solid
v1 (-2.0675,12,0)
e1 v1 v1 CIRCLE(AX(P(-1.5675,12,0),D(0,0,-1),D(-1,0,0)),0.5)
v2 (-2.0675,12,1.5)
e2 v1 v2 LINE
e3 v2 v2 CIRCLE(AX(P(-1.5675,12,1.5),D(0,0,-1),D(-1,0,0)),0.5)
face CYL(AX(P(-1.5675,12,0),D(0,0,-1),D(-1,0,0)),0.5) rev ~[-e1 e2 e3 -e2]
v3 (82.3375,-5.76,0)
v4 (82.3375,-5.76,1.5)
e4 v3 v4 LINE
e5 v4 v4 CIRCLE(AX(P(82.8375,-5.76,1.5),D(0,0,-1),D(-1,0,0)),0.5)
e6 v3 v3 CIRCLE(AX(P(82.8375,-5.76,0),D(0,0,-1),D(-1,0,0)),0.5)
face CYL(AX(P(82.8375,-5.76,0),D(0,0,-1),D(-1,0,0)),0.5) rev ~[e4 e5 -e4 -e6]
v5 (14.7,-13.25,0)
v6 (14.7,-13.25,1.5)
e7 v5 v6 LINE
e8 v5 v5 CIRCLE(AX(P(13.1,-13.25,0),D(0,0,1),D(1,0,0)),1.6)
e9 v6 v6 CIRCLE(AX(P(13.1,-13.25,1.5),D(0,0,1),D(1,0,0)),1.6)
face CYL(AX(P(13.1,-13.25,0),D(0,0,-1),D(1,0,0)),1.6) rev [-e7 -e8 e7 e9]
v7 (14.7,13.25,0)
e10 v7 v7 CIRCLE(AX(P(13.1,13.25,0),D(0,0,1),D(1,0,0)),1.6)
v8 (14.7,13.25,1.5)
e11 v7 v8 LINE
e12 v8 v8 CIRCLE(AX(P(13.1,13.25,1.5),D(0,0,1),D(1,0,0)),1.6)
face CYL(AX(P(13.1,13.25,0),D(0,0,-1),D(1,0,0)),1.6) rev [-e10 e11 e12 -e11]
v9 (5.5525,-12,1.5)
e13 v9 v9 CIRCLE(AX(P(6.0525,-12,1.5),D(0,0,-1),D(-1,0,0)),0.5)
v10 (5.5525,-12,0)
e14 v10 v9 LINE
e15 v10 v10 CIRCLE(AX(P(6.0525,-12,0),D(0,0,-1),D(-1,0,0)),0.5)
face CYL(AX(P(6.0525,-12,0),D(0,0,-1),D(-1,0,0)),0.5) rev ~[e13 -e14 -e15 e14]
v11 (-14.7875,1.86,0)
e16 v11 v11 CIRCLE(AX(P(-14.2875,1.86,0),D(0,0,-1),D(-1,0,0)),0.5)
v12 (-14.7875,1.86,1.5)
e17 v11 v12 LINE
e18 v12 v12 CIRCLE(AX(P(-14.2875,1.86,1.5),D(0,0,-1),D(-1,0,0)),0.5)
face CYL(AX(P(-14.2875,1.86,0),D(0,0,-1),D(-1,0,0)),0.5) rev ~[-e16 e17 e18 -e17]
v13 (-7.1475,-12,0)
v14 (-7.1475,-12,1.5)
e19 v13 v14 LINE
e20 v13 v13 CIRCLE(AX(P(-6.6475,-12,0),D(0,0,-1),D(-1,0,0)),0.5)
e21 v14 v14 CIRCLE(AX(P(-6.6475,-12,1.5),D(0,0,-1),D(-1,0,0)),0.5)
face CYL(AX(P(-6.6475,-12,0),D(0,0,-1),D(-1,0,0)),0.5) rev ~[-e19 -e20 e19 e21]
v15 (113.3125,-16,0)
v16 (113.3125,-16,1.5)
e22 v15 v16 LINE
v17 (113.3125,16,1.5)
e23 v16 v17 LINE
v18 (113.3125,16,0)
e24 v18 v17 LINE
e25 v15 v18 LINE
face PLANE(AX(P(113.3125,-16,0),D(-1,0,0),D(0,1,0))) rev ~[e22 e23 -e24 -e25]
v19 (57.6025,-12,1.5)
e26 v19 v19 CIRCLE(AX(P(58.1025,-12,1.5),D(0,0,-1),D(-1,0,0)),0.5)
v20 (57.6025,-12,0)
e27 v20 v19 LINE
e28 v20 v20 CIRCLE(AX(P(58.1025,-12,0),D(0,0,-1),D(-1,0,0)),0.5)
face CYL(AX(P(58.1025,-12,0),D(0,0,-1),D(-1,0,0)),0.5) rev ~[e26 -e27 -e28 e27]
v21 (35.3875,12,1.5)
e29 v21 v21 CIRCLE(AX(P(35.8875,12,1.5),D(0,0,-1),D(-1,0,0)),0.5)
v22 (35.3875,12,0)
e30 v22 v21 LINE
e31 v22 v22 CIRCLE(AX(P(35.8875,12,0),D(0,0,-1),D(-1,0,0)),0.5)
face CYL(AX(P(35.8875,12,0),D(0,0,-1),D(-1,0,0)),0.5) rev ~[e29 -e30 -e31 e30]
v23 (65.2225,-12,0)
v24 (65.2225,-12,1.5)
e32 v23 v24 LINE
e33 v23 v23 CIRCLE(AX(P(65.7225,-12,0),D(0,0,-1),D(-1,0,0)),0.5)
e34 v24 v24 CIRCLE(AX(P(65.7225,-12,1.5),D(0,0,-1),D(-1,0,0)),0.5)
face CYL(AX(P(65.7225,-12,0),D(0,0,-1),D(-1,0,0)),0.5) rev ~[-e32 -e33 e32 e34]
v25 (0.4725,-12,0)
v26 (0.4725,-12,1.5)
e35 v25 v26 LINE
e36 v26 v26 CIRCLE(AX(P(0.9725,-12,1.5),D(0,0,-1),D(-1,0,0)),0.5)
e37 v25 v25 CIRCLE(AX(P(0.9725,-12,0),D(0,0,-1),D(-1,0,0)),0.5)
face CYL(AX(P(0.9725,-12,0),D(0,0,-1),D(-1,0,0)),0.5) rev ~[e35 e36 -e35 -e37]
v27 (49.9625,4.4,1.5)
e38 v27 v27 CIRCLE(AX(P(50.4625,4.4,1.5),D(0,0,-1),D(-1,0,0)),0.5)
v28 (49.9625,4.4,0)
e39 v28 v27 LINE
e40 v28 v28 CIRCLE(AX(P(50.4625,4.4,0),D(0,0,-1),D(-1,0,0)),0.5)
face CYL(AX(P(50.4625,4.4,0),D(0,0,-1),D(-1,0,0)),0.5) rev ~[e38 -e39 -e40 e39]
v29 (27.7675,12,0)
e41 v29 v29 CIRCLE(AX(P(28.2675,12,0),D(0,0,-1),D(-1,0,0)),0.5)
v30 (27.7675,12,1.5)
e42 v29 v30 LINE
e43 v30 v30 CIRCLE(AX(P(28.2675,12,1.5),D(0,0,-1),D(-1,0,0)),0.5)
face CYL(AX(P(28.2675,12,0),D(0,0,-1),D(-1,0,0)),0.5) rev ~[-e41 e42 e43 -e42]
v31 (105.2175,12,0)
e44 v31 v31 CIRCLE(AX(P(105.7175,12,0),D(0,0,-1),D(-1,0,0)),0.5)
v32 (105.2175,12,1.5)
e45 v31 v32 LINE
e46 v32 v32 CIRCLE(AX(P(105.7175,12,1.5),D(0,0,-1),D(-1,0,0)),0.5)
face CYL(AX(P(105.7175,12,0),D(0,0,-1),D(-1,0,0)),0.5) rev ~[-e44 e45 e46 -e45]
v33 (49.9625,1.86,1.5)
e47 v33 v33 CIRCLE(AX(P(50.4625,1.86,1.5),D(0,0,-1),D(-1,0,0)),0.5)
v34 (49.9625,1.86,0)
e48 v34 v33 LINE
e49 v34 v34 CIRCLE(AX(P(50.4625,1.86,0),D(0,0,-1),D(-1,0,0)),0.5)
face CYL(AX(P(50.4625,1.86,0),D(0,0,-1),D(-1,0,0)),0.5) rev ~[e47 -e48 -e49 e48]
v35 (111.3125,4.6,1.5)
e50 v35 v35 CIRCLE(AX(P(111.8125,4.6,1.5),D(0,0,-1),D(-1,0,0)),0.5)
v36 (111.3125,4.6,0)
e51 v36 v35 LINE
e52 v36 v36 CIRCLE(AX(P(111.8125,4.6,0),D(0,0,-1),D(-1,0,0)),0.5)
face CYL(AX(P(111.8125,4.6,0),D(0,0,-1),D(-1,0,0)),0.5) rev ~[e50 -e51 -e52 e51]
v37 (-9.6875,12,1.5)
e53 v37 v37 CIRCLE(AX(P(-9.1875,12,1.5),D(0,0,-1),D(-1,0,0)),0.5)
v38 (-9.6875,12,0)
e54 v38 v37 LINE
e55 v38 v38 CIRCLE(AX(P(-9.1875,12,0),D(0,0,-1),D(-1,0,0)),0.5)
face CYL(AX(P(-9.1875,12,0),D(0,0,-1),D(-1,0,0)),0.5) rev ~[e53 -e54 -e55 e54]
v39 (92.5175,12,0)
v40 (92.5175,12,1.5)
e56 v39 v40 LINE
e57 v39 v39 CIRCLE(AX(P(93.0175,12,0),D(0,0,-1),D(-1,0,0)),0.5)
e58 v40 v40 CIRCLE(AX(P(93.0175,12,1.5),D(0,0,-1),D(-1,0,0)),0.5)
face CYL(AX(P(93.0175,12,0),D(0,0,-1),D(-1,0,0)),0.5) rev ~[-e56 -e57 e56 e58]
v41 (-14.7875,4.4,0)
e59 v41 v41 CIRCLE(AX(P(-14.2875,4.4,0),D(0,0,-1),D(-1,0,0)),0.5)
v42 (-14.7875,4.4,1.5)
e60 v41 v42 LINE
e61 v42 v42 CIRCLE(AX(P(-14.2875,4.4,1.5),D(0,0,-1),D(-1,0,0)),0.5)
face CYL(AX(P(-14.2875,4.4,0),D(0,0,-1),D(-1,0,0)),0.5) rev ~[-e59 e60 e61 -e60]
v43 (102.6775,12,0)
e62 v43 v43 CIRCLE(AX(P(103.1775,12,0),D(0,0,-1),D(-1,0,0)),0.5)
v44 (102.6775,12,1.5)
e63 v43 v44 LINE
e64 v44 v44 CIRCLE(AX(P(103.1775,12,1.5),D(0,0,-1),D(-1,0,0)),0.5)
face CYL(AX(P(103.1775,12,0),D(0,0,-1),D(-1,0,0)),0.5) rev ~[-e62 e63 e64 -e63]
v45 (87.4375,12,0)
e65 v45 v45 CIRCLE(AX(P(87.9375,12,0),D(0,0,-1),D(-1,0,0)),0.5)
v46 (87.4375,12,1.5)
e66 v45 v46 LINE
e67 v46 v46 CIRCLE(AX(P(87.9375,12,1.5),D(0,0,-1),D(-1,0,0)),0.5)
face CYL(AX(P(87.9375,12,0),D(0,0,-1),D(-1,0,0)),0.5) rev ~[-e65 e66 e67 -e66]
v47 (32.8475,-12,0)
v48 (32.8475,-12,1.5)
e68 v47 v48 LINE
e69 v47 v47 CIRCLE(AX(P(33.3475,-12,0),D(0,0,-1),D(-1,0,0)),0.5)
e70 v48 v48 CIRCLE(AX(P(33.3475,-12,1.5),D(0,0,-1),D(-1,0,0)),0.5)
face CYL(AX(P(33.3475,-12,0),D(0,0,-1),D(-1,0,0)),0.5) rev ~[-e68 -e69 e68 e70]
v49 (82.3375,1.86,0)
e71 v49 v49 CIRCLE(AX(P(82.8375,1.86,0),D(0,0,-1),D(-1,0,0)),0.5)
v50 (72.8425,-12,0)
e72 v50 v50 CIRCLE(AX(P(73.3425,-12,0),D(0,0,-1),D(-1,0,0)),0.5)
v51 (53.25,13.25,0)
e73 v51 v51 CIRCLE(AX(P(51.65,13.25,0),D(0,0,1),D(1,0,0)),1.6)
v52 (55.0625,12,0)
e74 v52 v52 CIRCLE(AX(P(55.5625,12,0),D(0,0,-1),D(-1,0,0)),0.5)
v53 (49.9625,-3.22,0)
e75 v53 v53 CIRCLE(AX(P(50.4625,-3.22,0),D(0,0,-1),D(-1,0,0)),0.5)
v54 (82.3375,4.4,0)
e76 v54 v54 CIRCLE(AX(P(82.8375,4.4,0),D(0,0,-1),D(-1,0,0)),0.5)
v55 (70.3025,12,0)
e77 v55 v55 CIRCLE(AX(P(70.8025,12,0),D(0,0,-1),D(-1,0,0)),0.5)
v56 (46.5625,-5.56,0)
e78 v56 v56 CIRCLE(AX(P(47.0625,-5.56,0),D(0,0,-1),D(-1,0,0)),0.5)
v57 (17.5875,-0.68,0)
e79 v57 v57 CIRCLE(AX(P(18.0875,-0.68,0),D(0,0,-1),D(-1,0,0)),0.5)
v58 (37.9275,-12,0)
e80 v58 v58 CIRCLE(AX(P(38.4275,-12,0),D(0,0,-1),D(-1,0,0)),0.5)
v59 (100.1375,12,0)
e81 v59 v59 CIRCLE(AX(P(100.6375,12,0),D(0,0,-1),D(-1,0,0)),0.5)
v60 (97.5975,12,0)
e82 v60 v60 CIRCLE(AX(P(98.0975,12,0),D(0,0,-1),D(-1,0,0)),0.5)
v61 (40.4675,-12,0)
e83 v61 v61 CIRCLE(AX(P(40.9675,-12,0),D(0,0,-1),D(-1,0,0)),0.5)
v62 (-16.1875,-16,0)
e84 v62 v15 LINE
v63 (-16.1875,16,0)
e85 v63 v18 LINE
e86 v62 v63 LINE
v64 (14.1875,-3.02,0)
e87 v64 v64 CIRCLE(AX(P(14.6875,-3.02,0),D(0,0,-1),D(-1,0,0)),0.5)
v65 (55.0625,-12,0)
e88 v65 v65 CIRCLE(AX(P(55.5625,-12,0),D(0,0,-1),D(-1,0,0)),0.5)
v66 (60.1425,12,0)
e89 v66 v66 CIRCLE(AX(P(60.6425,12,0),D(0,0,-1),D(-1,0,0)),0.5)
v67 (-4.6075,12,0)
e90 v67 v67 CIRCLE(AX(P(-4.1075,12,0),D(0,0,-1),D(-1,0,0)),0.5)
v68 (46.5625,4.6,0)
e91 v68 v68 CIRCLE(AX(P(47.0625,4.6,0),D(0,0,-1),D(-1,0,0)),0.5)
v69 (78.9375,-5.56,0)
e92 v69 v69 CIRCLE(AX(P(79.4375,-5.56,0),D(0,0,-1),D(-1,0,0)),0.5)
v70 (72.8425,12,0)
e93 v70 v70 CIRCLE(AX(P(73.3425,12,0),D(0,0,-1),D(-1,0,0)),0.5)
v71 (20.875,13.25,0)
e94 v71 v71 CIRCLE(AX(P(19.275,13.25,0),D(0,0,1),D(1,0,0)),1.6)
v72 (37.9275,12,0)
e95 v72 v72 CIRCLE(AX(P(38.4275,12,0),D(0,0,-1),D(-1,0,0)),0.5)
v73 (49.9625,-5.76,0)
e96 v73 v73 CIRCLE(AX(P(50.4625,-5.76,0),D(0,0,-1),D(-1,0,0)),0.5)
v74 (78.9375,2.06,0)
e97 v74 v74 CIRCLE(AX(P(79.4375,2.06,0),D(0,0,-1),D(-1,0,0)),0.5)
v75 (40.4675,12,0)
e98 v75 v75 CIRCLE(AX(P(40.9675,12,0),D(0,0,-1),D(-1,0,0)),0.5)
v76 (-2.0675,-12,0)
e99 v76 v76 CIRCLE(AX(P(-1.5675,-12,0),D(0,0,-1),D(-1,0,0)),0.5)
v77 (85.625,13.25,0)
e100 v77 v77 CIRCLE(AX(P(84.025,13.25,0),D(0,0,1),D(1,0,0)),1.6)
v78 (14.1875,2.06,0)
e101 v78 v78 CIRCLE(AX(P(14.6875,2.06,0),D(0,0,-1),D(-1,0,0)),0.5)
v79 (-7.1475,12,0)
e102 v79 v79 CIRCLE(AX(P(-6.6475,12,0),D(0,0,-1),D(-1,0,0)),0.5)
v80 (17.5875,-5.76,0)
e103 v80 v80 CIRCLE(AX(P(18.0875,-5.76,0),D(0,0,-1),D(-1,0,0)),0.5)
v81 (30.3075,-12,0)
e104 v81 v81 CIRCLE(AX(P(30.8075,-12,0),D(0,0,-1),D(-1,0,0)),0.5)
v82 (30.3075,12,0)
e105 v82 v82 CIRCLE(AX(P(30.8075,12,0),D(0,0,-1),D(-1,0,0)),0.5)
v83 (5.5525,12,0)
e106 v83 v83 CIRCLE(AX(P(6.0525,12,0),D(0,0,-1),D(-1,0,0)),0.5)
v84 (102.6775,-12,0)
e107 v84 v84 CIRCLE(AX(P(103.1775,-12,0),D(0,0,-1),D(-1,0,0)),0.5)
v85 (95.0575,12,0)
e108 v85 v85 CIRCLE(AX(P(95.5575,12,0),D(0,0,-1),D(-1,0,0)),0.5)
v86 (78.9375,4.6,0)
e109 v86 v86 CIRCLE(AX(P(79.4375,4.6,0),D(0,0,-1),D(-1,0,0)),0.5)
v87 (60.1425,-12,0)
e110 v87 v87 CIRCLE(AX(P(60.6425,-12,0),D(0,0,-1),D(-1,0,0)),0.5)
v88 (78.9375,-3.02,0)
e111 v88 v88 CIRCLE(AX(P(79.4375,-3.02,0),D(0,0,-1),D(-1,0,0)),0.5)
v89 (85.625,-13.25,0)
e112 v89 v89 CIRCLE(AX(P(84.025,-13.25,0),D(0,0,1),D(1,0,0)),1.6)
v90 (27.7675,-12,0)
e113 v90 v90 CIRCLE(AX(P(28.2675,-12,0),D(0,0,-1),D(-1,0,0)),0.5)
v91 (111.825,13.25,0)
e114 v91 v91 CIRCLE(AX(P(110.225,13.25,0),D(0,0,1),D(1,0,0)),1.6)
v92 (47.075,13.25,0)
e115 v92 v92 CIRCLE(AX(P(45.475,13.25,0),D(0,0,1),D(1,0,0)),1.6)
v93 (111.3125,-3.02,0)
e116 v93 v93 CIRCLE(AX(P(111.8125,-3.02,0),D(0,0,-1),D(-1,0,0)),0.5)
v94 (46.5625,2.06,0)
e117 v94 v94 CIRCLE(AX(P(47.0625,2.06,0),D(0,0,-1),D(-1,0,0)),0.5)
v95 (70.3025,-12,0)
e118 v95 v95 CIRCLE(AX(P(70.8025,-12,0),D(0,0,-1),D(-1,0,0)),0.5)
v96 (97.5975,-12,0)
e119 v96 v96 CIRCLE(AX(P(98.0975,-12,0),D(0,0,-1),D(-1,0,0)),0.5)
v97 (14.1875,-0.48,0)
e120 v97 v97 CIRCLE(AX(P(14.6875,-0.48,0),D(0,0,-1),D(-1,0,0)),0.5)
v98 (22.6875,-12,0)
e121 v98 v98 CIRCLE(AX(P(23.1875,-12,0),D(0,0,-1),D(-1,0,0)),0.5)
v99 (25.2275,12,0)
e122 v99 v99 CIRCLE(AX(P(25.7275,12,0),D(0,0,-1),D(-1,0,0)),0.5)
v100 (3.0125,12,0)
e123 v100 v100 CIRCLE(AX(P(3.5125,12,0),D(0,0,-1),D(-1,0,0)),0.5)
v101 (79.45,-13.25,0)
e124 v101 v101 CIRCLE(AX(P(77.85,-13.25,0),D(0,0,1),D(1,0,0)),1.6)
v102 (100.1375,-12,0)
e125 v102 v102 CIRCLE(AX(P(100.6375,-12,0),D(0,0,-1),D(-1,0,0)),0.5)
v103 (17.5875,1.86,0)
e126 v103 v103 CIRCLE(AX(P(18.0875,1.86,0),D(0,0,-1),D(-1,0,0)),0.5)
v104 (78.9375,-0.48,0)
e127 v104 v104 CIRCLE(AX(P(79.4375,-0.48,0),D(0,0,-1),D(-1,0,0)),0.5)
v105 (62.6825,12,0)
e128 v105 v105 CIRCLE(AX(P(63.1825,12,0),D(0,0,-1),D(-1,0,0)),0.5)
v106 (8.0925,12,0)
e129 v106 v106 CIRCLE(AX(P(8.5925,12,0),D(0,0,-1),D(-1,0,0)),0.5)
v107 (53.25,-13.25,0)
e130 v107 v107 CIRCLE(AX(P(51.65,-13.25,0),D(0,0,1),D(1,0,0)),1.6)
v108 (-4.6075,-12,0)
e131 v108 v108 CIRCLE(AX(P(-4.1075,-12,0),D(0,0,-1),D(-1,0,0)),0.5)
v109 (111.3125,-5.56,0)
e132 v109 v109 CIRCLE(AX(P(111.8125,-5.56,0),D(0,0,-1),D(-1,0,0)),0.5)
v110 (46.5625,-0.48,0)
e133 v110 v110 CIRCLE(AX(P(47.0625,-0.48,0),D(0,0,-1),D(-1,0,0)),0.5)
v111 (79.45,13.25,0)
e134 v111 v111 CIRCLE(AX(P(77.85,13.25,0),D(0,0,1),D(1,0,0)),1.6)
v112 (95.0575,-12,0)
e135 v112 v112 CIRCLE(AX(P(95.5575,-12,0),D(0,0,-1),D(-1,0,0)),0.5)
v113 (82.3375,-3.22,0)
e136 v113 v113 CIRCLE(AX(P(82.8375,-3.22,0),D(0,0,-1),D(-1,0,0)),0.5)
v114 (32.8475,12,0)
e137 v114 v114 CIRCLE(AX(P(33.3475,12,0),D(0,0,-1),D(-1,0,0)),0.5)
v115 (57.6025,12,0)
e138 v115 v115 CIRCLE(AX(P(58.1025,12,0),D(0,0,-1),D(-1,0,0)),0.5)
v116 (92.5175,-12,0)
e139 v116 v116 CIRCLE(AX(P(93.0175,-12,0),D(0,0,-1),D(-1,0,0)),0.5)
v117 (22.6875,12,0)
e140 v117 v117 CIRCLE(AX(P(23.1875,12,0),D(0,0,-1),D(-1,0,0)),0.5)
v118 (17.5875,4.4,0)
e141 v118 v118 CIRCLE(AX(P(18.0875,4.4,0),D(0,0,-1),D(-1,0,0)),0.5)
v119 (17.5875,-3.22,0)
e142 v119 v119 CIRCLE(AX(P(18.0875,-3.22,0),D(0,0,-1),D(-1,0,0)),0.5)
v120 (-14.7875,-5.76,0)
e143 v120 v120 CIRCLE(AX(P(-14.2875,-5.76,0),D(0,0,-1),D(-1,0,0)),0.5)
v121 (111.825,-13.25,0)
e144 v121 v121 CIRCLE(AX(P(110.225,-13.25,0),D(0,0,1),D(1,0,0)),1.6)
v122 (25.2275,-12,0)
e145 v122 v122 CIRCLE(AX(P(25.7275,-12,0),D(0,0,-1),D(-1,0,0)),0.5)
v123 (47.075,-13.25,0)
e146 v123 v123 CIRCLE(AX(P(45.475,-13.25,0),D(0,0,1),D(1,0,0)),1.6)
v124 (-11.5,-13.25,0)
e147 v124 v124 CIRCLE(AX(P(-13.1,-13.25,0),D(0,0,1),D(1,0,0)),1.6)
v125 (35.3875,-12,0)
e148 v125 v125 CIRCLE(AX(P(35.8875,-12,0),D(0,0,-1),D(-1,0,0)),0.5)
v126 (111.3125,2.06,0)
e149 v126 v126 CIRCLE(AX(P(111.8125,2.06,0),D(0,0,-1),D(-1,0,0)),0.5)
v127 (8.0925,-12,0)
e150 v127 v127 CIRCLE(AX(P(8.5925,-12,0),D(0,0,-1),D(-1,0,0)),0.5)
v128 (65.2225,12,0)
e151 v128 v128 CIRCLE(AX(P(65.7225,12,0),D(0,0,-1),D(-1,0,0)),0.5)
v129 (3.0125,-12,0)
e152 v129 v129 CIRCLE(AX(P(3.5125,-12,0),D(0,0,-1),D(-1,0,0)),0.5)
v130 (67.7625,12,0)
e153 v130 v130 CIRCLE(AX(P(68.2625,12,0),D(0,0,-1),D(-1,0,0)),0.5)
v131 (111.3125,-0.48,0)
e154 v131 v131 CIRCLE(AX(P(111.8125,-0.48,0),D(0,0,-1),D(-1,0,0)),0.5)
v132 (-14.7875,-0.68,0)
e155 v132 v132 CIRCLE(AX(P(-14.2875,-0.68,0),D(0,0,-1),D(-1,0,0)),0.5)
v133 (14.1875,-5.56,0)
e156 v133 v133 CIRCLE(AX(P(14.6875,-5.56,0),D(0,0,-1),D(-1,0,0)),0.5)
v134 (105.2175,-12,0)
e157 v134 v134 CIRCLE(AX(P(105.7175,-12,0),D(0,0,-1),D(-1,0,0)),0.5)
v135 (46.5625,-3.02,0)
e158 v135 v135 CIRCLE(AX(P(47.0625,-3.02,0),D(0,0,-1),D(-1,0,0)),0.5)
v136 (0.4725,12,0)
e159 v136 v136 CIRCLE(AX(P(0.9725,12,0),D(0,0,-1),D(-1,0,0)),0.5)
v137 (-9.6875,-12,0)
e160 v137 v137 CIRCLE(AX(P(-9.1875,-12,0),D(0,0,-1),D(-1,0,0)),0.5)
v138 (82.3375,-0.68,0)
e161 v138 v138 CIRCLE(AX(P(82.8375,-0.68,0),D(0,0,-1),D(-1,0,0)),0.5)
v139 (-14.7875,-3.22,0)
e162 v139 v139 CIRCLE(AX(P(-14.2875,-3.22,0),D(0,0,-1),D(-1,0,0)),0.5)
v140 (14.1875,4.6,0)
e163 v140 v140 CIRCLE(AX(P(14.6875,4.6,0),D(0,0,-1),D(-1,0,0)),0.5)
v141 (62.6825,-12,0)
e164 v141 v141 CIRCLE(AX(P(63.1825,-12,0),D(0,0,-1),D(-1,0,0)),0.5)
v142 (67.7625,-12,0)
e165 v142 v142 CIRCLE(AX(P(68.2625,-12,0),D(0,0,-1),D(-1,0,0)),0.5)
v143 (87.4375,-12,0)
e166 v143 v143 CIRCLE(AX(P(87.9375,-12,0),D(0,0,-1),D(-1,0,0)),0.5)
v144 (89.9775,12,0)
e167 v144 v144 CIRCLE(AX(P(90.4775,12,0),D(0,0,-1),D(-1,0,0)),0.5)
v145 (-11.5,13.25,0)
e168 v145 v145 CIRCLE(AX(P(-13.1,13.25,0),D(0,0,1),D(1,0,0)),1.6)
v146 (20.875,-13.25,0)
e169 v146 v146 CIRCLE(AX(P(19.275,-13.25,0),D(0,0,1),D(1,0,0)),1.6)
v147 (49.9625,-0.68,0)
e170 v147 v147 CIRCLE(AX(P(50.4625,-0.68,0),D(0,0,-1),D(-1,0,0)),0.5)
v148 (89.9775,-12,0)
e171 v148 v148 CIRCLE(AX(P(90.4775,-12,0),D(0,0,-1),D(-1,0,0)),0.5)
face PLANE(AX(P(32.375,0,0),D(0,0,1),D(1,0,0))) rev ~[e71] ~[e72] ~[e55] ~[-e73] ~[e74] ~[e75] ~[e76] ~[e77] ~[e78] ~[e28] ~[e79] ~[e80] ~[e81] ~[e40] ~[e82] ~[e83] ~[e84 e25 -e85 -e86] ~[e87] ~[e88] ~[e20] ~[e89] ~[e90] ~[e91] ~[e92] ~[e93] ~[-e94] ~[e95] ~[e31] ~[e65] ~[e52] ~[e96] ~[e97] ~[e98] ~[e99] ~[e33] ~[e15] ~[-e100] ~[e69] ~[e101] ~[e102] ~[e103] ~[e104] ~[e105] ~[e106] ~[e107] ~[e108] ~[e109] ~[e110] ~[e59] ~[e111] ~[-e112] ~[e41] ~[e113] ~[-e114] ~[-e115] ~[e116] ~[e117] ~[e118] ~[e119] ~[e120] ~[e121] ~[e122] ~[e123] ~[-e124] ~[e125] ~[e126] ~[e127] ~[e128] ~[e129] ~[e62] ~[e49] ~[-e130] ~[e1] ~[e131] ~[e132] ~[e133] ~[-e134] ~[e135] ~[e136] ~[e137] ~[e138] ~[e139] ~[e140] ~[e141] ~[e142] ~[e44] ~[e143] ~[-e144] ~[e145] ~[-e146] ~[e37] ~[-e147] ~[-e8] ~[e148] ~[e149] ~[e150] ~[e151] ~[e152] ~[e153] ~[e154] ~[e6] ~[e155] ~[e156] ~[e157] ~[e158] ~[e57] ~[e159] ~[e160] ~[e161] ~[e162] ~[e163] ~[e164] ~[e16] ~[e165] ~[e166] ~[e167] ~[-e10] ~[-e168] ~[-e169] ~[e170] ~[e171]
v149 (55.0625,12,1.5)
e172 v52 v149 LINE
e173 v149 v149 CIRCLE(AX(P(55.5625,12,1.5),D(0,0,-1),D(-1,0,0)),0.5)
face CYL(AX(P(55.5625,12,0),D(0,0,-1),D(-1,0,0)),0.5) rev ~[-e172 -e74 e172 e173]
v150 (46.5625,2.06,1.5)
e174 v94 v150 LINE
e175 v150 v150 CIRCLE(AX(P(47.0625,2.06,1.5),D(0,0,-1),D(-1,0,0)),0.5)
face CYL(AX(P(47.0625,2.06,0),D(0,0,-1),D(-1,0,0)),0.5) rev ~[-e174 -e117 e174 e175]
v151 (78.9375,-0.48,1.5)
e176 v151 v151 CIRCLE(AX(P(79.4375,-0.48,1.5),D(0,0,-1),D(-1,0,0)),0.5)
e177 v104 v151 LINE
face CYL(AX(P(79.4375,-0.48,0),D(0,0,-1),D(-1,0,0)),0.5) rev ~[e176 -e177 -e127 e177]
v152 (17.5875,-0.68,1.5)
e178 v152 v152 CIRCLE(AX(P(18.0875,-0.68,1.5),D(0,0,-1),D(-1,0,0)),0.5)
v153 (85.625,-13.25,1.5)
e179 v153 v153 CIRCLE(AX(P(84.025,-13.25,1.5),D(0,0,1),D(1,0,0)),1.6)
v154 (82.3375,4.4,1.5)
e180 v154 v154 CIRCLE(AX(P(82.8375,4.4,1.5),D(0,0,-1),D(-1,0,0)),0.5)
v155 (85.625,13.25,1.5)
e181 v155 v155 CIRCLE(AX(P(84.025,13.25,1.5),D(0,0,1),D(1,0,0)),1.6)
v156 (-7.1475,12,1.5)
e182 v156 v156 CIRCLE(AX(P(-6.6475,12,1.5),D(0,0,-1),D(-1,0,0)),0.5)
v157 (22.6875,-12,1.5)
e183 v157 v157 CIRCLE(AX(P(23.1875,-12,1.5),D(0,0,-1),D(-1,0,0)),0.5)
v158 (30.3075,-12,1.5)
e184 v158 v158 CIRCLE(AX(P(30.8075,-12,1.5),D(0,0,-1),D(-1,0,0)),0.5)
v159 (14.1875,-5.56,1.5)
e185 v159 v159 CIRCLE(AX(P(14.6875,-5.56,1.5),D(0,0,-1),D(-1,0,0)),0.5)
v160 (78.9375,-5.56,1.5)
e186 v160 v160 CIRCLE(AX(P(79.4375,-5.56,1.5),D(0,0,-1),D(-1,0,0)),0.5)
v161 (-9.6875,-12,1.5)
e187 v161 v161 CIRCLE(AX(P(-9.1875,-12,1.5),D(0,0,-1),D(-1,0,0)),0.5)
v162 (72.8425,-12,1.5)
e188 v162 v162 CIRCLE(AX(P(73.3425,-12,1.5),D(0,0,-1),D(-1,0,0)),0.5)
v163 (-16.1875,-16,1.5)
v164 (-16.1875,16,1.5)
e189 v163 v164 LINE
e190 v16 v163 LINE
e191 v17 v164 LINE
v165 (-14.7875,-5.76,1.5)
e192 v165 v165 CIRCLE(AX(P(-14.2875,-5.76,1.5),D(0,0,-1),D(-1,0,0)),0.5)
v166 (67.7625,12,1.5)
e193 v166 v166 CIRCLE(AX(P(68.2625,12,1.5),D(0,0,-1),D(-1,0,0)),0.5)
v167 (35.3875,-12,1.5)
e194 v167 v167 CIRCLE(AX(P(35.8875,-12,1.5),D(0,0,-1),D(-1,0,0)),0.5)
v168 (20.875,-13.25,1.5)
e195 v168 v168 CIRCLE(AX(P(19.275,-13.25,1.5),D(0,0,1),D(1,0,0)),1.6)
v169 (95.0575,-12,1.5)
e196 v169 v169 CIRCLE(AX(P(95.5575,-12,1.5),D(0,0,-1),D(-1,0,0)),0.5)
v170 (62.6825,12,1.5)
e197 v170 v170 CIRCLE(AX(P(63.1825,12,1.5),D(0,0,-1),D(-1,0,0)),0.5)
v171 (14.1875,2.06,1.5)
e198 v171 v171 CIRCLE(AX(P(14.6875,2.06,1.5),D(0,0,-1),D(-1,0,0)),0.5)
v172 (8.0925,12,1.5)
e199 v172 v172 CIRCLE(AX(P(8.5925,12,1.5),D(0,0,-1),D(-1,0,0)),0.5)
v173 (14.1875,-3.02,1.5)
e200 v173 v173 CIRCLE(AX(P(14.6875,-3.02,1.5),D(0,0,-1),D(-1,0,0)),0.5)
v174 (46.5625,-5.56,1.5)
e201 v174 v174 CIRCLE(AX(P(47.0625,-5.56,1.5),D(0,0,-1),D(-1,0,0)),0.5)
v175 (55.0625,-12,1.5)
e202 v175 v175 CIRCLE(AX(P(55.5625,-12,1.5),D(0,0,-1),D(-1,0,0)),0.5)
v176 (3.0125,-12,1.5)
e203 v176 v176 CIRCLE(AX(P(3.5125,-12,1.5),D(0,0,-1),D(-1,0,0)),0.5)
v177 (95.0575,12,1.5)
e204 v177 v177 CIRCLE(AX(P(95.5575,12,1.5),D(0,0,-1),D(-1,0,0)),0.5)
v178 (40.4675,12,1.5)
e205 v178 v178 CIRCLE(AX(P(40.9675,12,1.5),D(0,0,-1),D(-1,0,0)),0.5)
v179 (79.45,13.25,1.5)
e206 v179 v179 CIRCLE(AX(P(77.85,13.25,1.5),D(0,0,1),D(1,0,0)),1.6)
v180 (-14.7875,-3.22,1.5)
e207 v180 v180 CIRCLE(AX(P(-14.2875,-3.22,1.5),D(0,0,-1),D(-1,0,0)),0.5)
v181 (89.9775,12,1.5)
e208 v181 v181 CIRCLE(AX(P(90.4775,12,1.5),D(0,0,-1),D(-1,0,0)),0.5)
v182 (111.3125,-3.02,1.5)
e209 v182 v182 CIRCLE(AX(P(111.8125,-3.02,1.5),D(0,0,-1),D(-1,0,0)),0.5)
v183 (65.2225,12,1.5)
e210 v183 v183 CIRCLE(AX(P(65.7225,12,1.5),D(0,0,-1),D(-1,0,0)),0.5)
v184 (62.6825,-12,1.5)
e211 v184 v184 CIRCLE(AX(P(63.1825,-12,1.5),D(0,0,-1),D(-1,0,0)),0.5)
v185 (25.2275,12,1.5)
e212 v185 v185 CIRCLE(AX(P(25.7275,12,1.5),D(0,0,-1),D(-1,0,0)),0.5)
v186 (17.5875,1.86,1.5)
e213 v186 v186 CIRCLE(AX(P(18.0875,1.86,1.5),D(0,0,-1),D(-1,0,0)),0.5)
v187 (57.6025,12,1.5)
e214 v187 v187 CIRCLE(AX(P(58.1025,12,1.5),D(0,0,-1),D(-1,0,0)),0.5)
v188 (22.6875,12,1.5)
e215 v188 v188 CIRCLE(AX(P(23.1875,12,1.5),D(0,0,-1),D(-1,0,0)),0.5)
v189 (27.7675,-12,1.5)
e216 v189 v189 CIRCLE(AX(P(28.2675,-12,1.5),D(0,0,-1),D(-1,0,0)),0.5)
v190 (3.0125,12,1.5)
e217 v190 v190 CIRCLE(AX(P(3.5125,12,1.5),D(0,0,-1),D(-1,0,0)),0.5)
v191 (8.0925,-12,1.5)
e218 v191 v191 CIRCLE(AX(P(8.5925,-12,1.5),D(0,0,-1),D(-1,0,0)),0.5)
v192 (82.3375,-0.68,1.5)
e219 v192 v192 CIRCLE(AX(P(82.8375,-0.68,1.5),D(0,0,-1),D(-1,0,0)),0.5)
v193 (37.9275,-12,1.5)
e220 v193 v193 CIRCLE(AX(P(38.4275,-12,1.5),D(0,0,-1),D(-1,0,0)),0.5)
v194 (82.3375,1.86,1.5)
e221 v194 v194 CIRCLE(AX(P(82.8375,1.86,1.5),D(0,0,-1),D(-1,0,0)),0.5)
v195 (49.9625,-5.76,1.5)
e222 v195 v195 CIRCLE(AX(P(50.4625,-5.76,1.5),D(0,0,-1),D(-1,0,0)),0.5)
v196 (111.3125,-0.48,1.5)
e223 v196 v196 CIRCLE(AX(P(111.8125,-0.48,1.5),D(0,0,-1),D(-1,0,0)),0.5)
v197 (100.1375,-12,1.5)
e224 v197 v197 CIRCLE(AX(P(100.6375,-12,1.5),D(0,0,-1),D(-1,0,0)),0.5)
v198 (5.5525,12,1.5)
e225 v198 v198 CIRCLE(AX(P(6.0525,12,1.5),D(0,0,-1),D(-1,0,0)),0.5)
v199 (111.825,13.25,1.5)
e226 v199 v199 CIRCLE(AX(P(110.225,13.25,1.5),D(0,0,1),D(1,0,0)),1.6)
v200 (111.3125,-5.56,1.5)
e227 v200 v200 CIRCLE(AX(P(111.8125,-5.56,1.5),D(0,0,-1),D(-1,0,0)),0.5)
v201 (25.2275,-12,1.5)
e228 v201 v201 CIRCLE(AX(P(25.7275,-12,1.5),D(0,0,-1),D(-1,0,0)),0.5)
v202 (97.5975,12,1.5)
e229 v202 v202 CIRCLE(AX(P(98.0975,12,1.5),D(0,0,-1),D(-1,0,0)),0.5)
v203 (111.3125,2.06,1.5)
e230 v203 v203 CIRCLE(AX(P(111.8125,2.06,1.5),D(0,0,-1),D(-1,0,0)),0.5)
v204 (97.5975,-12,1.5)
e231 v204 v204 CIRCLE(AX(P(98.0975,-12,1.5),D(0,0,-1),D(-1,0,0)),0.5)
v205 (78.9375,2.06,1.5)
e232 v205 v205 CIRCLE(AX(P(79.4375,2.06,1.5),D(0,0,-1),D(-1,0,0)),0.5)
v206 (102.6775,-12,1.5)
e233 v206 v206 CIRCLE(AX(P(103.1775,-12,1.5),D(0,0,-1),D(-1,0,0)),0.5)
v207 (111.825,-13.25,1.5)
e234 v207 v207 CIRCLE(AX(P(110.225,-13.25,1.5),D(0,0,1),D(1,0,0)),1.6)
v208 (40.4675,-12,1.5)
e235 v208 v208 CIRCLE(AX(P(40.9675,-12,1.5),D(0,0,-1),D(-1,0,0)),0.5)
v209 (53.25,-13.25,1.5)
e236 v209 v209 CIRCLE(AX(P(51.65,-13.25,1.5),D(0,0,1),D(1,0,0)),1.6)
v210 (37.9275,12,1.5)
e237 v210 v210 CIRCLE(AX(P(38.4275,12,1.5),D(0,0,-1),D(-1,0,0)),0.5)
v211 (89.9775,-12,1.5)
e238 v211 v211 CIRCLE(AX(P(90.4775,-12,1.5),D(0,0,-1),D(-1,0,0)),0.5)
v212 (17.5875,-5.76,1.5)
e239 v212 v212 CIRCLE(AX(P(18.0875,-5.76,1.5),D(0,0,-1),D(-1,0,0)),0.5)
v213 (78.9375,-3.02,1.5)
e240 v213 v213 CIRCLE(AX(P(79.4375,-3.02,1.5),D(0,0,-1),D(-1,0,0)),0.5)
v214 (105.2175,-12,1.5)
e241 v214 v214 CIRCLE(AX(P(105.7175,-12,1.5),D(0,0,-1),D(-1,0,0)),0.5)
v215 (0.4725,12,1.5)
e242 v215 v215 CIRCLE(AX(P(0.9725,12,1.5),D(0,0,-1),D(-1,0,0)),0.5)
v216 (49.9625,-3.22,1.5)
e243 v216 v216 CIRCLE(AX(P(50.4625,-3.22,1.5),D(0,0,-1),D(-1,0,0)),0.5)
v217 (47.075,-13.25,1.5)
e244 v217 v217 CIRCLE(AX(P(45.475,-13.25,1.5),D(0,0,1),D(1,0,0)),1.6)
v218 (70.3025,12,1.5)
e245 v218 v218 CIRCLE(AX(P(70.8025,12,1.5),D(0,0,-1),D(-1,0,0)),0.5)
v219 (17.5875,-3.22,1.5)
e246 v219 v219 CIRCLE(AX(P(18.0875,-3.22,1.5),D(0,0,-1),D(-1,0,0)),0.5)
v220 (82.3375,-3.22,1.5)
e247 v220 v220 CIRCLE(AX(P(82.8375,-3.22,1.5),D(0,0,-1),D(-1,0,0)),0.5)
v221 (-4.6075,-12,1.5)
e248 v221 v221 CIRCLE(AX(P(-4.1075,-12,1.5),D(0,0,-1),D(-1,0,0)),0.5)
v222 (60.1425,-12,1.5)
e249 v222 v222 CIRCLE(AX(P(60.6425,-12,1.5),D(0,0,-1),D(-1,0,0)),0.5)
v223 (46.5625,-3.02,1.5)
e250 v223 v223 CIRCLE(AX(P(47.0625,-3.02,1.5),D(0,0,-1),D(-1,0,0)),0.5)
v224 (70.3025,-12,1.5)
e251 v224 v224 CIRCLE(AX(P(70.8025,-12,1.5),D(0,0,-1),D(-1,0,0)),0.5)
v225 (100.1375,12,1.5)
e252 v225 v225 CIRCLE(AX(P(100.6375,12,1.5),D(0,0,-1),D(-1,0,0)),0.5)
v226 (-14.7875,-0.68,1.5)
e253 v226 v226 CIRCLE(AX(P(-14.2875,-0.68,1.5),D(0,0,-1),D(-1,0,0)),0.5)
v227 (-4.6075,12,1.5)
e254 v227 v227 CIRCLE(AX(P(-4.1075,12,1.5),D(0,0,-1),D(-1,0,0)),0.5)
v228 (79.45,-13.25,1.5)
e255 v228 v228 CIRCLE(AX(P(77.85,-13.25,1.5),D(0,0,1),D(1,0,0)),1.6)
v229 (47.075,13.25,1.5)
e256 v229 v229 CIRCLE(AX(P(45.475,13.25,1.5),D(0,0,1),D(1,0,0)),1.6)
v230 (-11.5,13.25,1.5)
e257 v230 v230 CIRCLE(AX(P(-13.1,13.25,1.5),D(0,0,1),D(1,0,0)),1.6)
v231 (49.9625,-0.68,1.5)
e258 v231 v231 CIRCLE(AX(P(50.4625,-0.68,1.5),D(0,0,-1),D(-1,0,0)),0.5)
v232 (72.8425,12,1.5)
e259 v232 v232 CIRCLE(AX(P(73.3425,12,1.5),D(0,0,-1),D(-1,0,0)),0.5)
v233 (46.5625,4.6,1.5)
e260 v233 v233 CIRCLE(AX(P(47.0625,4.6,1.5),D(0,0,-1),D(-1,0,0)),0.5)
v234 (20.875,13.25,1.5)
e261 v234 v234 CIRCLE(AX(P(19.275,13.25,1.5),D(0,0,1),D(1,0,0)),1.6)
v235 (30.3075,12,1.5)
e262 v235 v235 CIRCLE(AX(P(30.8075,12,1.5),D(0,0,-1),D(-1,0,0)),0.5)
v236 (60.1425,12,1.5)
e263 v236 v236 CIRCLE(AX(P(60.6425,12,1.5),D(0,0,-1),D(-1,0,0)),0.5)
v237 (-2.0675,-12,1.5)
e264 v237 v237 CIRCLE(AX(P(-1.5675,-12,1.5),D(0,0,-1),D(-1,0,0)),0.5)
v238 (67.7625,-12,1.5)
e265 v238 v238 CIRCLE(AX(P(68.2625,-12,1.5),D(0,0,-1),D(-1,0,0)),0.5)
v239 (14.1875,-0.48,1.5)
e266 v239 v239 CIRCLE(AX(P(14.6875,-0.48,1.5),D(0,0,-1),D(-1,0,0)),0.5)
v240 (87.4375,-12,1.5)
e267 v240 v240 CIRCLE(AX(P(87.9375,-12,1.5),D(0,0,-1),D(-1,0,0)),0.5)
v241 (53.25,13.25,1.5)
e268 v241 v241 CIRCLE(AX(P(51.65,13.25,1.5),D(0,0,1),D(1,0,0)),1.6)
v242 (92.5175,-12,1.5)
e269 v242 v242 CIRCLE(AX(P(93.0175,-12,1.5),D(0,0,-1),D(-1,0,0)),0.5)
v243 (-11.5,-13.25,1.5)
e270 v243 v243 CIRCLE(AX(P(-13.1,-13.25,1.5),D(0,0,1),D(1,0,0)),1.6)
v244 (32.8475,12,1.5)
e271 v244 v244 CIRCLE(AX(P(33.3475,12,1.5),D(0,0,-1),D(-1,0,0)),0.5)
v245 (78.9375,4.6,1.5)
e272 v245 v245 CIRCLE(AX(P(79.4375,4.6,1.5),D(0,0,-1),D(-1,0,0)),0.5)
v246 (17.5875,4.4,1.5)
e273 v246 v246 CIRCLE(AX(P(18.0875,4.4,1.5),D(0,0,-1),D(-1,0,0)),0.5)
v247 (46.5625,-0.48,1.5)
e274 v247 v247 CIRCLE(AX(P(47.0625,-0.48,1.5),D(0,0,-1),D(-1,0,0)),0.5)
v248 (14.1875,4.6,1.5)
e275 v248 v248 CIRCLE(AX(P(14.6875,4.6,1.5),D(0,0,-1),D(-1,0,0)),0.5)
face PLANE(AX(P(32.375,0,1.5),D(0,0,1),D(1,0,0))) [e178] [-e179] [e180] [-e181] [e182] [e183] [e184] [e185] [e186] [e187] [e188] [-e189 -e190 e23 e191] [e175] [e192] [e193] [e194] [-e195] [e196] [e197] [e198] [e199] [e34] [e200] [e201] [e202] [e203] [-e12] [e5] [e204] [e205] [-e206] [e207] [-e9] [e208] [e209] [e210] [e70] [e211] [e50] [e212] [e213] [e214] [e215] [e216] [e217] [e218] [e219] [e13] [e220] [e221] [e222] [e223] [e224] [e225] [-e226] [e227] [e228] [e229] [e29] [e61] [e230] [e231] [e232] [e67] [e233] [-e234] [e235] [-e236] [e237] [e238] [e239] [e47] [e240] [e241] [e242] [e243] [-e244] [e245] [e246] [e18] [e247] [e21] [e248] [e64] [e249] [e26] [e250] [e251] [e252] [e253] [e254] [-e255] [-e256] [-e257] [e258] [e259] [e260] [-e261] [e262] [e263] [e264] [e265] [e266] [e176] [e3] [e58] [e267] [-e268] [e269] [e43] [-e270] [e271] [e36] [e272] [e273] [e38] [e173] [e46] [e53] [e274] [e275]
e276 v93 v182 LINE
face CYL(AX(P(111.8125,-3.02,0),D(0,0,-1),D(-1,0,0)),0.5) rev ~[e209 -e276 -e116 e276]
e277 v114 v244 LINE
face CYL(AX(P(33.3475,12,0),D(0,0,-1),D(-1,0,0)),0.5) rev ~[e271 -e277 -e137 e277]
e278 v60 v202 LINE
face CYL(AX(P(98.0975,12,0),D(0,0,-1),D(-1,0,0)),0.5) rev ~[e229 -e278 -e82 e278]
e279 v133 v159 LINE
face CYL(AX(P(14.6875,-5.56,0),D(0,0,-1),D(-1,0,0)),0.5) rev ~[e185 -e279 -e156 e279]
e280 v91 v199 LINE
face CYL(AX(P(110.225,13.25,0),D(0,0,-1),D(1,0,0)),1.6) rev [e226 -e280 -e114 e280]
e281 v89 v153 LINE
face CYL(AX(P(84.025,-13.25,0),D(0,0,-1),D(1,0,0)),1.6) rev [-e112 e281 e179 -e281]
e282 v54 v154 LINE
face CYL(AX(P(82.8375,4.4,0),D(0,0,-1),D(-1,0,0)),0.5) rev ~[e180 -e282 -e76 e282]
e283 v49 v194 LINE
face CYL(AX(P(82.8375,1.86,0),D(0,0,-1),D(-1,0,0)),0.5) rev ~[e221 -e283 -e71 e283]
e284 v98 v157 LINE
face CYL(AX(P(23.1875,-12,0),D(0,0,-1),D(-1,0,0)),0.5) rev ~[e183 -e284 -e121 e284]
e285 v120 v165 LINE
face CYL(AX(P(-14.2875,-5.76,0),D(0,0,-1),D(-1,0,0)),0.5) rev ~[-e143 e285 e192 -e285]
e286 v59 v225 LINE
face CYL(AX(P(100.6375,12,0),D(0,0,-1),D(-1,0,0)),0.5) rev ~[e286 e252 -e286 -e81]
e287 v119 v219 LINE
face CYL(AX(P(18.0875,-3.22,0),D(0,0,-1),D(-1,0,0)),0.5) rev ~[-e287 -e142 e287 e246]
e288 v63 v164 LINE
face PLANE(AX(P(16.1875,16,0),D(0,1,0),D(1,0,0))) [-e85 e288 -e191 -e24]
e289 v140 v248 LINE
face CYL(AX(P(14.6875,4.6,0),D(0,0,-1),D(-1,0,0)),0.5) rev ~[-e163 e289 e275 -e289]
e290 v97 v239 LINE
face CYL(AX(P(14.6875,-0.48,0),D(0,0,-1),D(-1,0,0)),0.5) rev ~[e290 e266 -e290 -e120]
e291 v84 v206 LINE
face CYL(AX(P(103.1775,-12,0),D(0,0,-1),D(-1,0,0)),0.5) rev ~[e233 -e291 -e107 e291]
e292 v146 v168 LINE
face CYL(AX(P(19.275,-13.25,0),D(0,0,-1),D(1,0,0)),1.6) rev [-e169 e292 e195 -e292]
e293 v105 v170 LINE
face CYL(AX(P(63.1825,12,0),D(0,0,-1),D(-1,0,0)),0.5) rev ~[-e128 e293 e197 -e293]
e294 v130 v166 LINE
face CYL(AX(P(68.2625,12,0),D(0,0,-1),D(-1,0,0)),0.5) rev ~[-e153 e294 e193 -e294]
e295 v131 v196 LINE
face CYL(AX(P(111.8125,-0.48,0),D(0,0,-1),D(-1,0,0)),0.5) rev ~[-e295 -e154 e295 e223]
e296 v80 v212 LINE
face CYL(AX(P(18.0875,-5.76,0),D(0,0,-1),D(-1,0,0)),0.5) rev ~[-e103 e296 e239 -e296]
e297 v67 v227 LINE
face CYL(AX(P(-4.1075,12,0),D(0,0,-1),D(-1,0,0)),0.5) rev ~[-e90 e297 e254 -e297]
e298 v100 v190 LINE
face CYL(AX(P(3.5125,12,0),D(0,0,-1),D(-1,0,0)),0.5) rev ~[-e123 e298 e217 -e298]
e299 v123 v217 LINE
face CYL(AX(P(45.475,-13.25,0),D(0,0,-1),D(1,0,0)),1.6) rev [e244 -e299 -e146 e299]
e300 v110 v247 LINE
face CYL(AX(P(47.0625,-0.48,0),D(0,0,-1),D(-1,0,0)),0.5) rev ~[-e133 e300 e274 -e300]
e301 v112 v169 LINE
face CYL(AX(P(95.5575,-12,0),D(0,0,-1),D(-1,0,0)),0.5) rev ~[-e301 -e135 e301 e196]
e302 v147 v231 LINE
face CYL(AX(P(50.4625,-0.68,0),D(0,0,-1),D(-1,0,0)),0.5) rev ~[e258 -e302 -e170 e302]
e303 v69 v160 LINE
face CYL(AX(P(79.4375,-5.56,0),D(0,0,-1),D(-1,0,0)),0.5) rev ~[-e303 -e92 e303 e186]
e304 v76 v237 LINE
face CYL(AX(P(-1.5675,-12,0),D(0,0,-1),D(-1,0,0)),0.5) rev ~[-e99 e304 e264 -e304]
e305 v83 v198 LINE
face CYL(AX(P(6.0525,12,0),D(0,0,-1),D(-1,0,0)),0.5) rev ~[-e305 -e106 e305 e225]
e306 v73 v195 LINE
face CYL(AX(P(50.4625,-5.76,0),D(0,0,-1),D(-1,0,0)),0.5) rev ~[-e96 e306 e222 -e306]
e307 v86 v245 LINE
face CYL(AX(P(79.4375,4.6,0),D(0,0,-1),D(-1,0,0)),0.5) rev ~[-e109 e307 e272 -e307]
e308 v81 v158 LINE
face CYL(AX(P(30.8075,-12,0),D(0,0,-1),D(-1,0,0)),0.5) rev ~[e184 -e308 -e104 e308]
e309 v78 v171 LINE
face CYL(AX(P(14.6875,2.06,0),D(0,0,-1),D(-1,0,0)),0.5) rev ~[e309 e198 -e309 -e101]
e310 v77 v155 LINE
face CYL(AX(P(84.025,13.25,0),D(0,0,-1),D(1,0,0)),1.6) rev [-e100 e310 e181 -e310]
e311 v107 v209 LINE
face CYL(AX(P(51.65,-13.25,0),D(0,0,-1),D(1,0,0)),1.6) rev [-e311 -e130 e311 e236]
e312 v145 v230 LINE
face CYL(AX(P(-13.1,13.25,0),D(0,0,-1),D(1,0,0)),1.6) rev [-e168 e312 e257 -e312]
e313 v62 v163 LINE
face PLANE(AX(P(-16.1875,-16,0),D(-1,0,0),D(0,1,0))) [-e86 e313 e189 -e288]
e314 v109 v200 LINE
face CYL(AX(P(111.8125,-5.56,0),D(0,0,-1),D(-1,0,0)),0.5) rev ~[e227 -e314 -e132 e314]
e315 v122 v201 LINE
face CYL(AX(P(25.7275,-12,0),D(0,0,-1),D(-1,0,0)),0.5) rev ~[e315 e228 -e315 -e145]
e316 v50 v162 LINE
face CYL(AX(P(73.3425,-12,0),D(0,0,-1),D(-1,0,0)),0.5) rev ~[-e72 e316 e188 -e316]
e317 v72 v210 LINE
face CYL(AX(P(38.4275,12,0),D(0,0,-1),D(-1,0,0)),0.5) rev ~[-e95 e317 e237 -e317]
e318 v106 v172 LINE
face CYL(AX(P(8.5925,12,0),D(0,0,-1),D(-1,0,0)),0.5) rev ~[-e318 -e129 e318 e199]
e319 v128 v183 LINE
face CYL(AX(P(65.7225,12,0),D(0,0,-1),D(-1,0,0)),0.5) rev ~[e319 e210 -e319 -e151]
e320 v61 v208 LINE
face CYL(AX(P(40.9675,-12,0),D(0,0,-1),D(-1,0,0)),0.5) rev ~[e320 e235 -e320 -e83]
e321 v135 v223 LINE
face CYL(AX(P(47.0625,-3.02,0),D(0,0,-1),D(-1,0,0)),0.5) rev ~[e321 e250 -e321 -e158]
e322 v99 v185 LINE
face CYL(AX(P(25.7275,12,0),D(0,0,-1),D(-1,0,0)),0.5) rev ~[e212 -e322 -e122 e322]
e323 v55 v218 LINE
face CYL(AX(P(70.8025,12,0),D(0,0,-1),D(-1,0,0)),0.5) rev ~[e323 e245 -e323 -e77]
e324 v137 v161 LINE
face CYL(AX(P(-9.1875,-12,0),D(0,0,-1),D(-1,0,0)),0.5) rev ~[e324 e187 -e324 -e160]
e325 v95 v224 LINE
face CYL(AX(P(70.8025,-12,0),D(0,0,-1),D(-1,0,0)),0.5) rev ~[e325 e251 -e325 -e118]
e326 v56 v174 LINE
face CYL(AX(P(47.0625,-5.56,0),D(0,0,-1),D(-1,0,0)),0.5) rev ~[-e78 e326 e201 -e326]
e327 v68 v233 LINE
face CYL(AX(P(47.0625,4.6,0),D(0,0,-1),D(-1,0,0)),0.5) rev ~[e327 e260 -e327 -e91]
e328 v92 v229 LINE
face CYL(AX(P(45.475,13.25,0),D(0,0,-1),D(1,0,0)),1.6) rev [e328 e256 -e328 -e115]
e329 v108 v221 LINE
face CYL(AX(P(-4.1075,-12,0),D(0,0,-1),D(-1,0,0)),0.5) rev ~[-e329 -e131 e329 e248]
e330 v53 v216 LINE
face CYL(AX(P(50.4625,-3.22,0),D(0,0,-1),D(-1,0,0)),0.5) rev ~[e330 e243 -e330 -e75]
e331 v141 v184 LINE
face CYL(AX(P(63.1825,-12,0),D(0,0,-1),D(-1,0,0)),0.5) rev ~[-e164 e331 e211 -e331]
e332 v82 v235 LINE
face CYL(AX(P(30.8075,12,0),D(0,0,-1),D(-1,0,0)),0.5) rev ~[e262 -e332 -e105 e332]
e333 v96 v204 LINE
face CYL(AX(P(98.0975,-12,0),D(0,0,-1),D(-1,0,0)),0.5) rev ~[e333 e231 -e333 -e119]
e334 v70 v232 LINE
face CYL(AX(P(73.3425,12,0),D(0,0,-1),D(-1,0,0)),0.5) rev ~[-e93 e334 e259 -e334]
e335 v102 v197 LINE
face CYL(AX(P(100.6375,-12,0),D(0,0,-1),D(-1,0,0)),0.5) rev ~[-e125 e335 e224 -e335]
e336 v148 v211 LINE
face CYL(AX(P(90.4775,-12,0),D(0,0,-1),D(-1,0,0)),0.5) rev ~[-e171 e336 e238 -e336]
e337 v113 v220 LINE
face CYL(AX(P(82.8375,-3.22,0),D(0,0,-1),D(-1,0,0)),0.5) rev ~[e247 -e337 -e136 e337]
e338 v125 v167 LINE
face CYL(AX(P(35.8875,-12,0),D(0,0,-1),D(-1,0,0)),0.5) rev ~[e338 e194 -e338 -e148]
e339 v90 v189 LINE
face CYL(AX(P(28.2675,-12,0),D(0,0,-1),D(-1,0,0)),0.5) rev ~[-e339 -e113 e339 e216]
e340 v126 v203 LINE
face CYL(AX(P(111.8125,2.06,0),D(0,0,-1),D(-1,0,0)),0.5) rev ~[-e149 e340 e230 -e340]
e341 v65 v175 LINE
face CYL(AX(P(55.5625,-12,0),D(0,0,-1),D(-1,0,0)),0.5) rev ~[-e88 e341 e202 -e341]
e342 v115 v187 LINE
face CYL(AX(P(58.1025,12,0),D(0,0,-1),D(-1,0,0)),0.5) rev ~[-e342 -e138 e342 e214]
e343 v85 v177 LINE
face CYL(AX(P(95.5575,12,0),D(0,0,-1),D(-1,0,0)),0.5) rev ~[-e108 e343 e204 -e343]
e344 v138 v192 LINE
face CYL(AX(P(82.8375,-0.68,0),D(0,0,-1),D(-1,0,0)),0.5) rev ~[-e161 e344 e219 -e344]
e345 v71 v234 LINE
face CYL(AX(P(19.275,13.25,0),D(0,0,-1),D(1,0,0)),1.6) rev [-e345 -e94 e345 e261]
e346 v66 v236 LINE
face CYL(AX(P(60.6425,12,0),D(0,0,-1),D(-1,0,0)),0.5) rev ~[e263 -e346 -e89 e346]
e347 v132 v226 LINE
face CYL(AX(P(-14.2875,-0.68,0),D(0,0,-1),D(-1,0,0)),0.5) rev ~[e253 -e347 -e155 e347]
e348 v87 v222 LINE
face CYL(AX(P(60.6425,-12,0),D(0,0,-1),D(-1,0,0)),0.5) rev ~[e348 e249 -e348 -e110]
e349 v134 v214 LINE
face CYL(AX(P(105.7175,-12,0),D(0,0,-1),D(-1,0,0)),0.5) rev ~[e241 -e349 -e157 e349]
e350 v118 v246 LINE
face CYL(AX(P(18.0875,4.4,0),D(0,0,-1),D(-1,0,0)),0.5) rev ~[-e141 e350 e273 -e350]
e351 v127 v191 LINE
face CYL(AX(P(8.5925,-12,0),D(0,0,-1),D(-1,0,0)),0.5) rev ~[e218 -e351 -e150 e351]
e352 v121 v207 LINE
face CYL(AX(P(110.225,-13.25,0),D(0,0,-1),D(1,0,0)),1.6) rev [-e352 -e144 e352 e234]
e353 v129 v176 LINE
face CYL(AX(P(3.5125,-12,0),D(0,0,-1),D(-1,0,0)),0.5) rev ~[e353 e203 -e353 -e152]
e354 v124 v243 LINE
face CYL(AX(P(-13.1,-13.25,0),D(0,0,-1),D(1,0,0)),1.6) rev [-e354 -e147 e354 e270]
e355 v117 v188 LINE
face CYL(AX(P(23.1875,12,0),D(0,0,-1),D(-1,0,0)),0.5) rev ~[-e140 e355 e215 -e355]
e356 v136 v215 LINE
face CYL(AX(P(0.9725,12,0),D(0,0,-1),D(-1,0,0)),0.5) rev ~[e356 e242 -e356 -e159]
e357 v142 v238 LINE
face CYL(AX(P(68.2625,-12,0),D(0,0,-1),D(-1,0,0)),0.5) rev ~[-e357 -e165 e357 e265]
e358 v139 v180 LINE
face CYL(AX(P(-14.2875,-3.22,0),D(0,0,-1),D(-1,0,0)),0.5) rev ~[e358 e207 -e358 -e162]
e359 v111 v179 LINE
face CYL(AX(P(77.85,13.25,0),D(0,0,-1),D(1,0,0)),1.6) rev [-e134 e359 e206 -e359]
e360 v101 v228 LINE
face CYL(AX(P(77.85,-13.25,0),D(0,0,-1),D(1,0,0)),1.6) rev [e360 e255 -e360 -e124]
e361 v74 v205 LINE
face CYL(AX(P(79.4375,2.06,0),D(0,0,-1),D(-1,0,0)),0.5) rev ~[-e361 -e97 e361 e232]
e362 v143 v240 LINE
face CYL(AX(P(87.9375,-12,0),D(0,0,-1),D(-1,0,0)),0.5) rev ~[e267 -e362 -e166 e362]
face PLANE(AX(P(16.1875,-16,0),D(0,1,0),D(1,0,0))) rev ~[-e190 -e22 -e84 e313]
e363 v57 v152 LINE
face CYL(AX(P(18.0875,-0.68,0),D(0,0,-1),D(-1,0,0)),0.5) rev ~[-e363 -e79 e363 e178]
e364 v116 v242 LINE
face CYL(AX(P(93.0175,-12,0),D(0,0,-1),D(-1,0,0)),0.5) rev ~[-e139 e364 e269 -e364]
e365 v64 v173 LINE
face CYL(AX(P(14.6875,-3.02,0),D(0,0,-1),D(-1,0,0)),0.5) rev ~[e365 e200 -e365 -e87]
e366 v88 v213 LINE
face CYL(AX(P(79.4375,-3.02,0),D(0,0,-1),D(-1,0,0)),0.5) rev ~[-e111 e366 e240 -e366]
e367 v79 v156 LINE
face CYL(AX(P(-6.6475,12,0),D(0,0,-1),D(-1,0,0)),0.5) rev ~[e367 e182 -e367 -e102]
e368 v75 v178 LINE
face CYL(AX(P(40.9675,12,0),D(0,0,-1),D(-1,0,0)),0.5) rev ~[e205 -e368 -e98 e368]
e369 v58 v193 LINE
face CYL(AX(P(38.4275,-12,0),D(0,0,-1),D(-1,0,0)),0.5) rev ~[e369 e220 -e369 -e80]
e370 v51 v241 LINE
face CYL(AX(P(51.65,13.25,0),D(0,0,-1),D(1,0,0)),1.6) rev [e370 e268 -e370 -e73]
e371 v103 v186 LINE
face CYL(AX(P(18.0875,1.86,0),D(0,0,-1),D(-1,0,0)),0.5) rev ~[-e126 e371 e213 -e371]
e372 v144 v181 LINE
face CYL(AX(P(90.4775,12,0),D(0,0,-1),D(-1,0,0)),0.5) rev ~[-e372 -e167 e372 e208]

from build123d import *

# Parameters (mm, degrees)
SKETCH1_W                  = 32.375
SKETCH1_H                  = 32
SKETCH1_R                  = 1.6
BOSS_EXTRUDE1_DEPTH        = 1.5
SKETCH3_R                  = 0.5
CUT_EXTRUDE1_DEPTH         = 1.5
R_P_TITION_LIN_AIRE1_COUNT = 4
R_P_TITION_LIN_AIRE1_PITCH = 32.375


with BuildPart() as part:
    # Sketch1 → Boss-Extrude1 (new body)
    with BuildSketch(Plane.XY):
        Rectangle(SKETCH1_W, SKETCH1_H)
        with Locations((-13.1, -13.25)):
            Circle(SKETCH1_R, mode=Mode.SUBTRACT)
        with Locations((13.1, -13.25)):
            Circle(SKETCH1_R, mode=Mode.SUBTRACT)
        with Locations((13.1, 13.25)):
            Circle(SKETCH1_R, mode=Mode.SUBTRACT)
        with Locations((-13.1, 13.25)):
            Circle(SKETCH1_R, mode=Mode.SUBTRACT)
    boss_extrude1 = extrude(amount=BOSS_EXTRUDE1_DEPTH)

    # Sketch3 → Cut-Extrude1 (cut)
    with BuildSketch(Plane(origin=(0, 0, 0), x_dir=(-1, 0, 0), z_dir=(0, 0, -1))):
        with Locations((-14.6875, 4.6)):
            Circle(SKETCH3_R)
        with Locations((-14.6875, 2.06)):
            Circle(SKETCH3_R)
        with Locations((-14.6875, -0.48)):
            Circle(SKETCH3_R)
        with Locations((-14.6875, -3.02)):
            Circle(SKETCH3_R)
        with Locations((-14.6875, -5.56)):
            Circle(SKETCH3_R)
        with Locations((9.1875, 12)):
            Circle(SKETCH3_R)
        with Locations((6.6475, 12)):
            Circle(SKETCH3_R)
        with Locations((4.1075, 12)):
            Circle(SKETCH3_R)
        with Locations((1.5675, 12)):
            Circle(SKETCH3_R)
        with Locations((-0.9725, 12)):
            Circle(SKETCH3_R)
        with Locations((-3.5125, 12)):
            Circle(SKETCH3_R)
        with Locations((-6.0525, 12)):
            Circle(SKETCH3_R)
        with Locations((-8.5925, 12)):
            Circle(SKETCH3_R)
        with Locations((9.1875, -12)):
            Circle(SKETCH3_R)
        with Locations((6.6475, -12)):
            Circle(SKETCH3_R)
        with Locations((4.1075, -12)):
            Circle(SKETCH3_R)
        with Locations((1.5675, -12)):
            Circle(SKETCH3_R)
        with Locations((-0.9725, -12)):
            Circle(SKETCH3_R)
        with Locations((-3.5125, -12)):
            Circle(SKETCH3_R)
        with Locations((-6.0525, -12)):
            Circle(SKETCH3_R)
        with Locations((-8.5925, -12)):
            Circle(SKETCH3_R)
        with Locations((14.2875, 4.4)):
            Circle(SKETCH3_R)
        with Locations((14.2875, 1.86)):
            Circle(SKETCH3_R)
        with Locations((14.2875, -0.68)):
            Circle(SKETCH3_R)
        with Locations((14.2875, -3.22)):
            Circle(SKETCH3_R)
        with Locations((14.2875, -5.76)):
            Circle(SKETCH3_R)
    cut_extrude1 = extrude(amount=-CUT_EXTRUDE1_DEPTH, mode=Mode.SUBTRACT)

    # Répétition linéaire1: Boss-Extrude1, Cut-Extrude1 ×4
    with Locations(*[(i * R_P_TITION_LIN_AIRE1_PITCH, 0, 0) for i in range(1, R_P_TITION_LIN_AIRE1_COUNT)]):
        add(boss_extrude1)
        add(cut_extrude1, mode=Mode.SUBTRACT)


solid = part.part
